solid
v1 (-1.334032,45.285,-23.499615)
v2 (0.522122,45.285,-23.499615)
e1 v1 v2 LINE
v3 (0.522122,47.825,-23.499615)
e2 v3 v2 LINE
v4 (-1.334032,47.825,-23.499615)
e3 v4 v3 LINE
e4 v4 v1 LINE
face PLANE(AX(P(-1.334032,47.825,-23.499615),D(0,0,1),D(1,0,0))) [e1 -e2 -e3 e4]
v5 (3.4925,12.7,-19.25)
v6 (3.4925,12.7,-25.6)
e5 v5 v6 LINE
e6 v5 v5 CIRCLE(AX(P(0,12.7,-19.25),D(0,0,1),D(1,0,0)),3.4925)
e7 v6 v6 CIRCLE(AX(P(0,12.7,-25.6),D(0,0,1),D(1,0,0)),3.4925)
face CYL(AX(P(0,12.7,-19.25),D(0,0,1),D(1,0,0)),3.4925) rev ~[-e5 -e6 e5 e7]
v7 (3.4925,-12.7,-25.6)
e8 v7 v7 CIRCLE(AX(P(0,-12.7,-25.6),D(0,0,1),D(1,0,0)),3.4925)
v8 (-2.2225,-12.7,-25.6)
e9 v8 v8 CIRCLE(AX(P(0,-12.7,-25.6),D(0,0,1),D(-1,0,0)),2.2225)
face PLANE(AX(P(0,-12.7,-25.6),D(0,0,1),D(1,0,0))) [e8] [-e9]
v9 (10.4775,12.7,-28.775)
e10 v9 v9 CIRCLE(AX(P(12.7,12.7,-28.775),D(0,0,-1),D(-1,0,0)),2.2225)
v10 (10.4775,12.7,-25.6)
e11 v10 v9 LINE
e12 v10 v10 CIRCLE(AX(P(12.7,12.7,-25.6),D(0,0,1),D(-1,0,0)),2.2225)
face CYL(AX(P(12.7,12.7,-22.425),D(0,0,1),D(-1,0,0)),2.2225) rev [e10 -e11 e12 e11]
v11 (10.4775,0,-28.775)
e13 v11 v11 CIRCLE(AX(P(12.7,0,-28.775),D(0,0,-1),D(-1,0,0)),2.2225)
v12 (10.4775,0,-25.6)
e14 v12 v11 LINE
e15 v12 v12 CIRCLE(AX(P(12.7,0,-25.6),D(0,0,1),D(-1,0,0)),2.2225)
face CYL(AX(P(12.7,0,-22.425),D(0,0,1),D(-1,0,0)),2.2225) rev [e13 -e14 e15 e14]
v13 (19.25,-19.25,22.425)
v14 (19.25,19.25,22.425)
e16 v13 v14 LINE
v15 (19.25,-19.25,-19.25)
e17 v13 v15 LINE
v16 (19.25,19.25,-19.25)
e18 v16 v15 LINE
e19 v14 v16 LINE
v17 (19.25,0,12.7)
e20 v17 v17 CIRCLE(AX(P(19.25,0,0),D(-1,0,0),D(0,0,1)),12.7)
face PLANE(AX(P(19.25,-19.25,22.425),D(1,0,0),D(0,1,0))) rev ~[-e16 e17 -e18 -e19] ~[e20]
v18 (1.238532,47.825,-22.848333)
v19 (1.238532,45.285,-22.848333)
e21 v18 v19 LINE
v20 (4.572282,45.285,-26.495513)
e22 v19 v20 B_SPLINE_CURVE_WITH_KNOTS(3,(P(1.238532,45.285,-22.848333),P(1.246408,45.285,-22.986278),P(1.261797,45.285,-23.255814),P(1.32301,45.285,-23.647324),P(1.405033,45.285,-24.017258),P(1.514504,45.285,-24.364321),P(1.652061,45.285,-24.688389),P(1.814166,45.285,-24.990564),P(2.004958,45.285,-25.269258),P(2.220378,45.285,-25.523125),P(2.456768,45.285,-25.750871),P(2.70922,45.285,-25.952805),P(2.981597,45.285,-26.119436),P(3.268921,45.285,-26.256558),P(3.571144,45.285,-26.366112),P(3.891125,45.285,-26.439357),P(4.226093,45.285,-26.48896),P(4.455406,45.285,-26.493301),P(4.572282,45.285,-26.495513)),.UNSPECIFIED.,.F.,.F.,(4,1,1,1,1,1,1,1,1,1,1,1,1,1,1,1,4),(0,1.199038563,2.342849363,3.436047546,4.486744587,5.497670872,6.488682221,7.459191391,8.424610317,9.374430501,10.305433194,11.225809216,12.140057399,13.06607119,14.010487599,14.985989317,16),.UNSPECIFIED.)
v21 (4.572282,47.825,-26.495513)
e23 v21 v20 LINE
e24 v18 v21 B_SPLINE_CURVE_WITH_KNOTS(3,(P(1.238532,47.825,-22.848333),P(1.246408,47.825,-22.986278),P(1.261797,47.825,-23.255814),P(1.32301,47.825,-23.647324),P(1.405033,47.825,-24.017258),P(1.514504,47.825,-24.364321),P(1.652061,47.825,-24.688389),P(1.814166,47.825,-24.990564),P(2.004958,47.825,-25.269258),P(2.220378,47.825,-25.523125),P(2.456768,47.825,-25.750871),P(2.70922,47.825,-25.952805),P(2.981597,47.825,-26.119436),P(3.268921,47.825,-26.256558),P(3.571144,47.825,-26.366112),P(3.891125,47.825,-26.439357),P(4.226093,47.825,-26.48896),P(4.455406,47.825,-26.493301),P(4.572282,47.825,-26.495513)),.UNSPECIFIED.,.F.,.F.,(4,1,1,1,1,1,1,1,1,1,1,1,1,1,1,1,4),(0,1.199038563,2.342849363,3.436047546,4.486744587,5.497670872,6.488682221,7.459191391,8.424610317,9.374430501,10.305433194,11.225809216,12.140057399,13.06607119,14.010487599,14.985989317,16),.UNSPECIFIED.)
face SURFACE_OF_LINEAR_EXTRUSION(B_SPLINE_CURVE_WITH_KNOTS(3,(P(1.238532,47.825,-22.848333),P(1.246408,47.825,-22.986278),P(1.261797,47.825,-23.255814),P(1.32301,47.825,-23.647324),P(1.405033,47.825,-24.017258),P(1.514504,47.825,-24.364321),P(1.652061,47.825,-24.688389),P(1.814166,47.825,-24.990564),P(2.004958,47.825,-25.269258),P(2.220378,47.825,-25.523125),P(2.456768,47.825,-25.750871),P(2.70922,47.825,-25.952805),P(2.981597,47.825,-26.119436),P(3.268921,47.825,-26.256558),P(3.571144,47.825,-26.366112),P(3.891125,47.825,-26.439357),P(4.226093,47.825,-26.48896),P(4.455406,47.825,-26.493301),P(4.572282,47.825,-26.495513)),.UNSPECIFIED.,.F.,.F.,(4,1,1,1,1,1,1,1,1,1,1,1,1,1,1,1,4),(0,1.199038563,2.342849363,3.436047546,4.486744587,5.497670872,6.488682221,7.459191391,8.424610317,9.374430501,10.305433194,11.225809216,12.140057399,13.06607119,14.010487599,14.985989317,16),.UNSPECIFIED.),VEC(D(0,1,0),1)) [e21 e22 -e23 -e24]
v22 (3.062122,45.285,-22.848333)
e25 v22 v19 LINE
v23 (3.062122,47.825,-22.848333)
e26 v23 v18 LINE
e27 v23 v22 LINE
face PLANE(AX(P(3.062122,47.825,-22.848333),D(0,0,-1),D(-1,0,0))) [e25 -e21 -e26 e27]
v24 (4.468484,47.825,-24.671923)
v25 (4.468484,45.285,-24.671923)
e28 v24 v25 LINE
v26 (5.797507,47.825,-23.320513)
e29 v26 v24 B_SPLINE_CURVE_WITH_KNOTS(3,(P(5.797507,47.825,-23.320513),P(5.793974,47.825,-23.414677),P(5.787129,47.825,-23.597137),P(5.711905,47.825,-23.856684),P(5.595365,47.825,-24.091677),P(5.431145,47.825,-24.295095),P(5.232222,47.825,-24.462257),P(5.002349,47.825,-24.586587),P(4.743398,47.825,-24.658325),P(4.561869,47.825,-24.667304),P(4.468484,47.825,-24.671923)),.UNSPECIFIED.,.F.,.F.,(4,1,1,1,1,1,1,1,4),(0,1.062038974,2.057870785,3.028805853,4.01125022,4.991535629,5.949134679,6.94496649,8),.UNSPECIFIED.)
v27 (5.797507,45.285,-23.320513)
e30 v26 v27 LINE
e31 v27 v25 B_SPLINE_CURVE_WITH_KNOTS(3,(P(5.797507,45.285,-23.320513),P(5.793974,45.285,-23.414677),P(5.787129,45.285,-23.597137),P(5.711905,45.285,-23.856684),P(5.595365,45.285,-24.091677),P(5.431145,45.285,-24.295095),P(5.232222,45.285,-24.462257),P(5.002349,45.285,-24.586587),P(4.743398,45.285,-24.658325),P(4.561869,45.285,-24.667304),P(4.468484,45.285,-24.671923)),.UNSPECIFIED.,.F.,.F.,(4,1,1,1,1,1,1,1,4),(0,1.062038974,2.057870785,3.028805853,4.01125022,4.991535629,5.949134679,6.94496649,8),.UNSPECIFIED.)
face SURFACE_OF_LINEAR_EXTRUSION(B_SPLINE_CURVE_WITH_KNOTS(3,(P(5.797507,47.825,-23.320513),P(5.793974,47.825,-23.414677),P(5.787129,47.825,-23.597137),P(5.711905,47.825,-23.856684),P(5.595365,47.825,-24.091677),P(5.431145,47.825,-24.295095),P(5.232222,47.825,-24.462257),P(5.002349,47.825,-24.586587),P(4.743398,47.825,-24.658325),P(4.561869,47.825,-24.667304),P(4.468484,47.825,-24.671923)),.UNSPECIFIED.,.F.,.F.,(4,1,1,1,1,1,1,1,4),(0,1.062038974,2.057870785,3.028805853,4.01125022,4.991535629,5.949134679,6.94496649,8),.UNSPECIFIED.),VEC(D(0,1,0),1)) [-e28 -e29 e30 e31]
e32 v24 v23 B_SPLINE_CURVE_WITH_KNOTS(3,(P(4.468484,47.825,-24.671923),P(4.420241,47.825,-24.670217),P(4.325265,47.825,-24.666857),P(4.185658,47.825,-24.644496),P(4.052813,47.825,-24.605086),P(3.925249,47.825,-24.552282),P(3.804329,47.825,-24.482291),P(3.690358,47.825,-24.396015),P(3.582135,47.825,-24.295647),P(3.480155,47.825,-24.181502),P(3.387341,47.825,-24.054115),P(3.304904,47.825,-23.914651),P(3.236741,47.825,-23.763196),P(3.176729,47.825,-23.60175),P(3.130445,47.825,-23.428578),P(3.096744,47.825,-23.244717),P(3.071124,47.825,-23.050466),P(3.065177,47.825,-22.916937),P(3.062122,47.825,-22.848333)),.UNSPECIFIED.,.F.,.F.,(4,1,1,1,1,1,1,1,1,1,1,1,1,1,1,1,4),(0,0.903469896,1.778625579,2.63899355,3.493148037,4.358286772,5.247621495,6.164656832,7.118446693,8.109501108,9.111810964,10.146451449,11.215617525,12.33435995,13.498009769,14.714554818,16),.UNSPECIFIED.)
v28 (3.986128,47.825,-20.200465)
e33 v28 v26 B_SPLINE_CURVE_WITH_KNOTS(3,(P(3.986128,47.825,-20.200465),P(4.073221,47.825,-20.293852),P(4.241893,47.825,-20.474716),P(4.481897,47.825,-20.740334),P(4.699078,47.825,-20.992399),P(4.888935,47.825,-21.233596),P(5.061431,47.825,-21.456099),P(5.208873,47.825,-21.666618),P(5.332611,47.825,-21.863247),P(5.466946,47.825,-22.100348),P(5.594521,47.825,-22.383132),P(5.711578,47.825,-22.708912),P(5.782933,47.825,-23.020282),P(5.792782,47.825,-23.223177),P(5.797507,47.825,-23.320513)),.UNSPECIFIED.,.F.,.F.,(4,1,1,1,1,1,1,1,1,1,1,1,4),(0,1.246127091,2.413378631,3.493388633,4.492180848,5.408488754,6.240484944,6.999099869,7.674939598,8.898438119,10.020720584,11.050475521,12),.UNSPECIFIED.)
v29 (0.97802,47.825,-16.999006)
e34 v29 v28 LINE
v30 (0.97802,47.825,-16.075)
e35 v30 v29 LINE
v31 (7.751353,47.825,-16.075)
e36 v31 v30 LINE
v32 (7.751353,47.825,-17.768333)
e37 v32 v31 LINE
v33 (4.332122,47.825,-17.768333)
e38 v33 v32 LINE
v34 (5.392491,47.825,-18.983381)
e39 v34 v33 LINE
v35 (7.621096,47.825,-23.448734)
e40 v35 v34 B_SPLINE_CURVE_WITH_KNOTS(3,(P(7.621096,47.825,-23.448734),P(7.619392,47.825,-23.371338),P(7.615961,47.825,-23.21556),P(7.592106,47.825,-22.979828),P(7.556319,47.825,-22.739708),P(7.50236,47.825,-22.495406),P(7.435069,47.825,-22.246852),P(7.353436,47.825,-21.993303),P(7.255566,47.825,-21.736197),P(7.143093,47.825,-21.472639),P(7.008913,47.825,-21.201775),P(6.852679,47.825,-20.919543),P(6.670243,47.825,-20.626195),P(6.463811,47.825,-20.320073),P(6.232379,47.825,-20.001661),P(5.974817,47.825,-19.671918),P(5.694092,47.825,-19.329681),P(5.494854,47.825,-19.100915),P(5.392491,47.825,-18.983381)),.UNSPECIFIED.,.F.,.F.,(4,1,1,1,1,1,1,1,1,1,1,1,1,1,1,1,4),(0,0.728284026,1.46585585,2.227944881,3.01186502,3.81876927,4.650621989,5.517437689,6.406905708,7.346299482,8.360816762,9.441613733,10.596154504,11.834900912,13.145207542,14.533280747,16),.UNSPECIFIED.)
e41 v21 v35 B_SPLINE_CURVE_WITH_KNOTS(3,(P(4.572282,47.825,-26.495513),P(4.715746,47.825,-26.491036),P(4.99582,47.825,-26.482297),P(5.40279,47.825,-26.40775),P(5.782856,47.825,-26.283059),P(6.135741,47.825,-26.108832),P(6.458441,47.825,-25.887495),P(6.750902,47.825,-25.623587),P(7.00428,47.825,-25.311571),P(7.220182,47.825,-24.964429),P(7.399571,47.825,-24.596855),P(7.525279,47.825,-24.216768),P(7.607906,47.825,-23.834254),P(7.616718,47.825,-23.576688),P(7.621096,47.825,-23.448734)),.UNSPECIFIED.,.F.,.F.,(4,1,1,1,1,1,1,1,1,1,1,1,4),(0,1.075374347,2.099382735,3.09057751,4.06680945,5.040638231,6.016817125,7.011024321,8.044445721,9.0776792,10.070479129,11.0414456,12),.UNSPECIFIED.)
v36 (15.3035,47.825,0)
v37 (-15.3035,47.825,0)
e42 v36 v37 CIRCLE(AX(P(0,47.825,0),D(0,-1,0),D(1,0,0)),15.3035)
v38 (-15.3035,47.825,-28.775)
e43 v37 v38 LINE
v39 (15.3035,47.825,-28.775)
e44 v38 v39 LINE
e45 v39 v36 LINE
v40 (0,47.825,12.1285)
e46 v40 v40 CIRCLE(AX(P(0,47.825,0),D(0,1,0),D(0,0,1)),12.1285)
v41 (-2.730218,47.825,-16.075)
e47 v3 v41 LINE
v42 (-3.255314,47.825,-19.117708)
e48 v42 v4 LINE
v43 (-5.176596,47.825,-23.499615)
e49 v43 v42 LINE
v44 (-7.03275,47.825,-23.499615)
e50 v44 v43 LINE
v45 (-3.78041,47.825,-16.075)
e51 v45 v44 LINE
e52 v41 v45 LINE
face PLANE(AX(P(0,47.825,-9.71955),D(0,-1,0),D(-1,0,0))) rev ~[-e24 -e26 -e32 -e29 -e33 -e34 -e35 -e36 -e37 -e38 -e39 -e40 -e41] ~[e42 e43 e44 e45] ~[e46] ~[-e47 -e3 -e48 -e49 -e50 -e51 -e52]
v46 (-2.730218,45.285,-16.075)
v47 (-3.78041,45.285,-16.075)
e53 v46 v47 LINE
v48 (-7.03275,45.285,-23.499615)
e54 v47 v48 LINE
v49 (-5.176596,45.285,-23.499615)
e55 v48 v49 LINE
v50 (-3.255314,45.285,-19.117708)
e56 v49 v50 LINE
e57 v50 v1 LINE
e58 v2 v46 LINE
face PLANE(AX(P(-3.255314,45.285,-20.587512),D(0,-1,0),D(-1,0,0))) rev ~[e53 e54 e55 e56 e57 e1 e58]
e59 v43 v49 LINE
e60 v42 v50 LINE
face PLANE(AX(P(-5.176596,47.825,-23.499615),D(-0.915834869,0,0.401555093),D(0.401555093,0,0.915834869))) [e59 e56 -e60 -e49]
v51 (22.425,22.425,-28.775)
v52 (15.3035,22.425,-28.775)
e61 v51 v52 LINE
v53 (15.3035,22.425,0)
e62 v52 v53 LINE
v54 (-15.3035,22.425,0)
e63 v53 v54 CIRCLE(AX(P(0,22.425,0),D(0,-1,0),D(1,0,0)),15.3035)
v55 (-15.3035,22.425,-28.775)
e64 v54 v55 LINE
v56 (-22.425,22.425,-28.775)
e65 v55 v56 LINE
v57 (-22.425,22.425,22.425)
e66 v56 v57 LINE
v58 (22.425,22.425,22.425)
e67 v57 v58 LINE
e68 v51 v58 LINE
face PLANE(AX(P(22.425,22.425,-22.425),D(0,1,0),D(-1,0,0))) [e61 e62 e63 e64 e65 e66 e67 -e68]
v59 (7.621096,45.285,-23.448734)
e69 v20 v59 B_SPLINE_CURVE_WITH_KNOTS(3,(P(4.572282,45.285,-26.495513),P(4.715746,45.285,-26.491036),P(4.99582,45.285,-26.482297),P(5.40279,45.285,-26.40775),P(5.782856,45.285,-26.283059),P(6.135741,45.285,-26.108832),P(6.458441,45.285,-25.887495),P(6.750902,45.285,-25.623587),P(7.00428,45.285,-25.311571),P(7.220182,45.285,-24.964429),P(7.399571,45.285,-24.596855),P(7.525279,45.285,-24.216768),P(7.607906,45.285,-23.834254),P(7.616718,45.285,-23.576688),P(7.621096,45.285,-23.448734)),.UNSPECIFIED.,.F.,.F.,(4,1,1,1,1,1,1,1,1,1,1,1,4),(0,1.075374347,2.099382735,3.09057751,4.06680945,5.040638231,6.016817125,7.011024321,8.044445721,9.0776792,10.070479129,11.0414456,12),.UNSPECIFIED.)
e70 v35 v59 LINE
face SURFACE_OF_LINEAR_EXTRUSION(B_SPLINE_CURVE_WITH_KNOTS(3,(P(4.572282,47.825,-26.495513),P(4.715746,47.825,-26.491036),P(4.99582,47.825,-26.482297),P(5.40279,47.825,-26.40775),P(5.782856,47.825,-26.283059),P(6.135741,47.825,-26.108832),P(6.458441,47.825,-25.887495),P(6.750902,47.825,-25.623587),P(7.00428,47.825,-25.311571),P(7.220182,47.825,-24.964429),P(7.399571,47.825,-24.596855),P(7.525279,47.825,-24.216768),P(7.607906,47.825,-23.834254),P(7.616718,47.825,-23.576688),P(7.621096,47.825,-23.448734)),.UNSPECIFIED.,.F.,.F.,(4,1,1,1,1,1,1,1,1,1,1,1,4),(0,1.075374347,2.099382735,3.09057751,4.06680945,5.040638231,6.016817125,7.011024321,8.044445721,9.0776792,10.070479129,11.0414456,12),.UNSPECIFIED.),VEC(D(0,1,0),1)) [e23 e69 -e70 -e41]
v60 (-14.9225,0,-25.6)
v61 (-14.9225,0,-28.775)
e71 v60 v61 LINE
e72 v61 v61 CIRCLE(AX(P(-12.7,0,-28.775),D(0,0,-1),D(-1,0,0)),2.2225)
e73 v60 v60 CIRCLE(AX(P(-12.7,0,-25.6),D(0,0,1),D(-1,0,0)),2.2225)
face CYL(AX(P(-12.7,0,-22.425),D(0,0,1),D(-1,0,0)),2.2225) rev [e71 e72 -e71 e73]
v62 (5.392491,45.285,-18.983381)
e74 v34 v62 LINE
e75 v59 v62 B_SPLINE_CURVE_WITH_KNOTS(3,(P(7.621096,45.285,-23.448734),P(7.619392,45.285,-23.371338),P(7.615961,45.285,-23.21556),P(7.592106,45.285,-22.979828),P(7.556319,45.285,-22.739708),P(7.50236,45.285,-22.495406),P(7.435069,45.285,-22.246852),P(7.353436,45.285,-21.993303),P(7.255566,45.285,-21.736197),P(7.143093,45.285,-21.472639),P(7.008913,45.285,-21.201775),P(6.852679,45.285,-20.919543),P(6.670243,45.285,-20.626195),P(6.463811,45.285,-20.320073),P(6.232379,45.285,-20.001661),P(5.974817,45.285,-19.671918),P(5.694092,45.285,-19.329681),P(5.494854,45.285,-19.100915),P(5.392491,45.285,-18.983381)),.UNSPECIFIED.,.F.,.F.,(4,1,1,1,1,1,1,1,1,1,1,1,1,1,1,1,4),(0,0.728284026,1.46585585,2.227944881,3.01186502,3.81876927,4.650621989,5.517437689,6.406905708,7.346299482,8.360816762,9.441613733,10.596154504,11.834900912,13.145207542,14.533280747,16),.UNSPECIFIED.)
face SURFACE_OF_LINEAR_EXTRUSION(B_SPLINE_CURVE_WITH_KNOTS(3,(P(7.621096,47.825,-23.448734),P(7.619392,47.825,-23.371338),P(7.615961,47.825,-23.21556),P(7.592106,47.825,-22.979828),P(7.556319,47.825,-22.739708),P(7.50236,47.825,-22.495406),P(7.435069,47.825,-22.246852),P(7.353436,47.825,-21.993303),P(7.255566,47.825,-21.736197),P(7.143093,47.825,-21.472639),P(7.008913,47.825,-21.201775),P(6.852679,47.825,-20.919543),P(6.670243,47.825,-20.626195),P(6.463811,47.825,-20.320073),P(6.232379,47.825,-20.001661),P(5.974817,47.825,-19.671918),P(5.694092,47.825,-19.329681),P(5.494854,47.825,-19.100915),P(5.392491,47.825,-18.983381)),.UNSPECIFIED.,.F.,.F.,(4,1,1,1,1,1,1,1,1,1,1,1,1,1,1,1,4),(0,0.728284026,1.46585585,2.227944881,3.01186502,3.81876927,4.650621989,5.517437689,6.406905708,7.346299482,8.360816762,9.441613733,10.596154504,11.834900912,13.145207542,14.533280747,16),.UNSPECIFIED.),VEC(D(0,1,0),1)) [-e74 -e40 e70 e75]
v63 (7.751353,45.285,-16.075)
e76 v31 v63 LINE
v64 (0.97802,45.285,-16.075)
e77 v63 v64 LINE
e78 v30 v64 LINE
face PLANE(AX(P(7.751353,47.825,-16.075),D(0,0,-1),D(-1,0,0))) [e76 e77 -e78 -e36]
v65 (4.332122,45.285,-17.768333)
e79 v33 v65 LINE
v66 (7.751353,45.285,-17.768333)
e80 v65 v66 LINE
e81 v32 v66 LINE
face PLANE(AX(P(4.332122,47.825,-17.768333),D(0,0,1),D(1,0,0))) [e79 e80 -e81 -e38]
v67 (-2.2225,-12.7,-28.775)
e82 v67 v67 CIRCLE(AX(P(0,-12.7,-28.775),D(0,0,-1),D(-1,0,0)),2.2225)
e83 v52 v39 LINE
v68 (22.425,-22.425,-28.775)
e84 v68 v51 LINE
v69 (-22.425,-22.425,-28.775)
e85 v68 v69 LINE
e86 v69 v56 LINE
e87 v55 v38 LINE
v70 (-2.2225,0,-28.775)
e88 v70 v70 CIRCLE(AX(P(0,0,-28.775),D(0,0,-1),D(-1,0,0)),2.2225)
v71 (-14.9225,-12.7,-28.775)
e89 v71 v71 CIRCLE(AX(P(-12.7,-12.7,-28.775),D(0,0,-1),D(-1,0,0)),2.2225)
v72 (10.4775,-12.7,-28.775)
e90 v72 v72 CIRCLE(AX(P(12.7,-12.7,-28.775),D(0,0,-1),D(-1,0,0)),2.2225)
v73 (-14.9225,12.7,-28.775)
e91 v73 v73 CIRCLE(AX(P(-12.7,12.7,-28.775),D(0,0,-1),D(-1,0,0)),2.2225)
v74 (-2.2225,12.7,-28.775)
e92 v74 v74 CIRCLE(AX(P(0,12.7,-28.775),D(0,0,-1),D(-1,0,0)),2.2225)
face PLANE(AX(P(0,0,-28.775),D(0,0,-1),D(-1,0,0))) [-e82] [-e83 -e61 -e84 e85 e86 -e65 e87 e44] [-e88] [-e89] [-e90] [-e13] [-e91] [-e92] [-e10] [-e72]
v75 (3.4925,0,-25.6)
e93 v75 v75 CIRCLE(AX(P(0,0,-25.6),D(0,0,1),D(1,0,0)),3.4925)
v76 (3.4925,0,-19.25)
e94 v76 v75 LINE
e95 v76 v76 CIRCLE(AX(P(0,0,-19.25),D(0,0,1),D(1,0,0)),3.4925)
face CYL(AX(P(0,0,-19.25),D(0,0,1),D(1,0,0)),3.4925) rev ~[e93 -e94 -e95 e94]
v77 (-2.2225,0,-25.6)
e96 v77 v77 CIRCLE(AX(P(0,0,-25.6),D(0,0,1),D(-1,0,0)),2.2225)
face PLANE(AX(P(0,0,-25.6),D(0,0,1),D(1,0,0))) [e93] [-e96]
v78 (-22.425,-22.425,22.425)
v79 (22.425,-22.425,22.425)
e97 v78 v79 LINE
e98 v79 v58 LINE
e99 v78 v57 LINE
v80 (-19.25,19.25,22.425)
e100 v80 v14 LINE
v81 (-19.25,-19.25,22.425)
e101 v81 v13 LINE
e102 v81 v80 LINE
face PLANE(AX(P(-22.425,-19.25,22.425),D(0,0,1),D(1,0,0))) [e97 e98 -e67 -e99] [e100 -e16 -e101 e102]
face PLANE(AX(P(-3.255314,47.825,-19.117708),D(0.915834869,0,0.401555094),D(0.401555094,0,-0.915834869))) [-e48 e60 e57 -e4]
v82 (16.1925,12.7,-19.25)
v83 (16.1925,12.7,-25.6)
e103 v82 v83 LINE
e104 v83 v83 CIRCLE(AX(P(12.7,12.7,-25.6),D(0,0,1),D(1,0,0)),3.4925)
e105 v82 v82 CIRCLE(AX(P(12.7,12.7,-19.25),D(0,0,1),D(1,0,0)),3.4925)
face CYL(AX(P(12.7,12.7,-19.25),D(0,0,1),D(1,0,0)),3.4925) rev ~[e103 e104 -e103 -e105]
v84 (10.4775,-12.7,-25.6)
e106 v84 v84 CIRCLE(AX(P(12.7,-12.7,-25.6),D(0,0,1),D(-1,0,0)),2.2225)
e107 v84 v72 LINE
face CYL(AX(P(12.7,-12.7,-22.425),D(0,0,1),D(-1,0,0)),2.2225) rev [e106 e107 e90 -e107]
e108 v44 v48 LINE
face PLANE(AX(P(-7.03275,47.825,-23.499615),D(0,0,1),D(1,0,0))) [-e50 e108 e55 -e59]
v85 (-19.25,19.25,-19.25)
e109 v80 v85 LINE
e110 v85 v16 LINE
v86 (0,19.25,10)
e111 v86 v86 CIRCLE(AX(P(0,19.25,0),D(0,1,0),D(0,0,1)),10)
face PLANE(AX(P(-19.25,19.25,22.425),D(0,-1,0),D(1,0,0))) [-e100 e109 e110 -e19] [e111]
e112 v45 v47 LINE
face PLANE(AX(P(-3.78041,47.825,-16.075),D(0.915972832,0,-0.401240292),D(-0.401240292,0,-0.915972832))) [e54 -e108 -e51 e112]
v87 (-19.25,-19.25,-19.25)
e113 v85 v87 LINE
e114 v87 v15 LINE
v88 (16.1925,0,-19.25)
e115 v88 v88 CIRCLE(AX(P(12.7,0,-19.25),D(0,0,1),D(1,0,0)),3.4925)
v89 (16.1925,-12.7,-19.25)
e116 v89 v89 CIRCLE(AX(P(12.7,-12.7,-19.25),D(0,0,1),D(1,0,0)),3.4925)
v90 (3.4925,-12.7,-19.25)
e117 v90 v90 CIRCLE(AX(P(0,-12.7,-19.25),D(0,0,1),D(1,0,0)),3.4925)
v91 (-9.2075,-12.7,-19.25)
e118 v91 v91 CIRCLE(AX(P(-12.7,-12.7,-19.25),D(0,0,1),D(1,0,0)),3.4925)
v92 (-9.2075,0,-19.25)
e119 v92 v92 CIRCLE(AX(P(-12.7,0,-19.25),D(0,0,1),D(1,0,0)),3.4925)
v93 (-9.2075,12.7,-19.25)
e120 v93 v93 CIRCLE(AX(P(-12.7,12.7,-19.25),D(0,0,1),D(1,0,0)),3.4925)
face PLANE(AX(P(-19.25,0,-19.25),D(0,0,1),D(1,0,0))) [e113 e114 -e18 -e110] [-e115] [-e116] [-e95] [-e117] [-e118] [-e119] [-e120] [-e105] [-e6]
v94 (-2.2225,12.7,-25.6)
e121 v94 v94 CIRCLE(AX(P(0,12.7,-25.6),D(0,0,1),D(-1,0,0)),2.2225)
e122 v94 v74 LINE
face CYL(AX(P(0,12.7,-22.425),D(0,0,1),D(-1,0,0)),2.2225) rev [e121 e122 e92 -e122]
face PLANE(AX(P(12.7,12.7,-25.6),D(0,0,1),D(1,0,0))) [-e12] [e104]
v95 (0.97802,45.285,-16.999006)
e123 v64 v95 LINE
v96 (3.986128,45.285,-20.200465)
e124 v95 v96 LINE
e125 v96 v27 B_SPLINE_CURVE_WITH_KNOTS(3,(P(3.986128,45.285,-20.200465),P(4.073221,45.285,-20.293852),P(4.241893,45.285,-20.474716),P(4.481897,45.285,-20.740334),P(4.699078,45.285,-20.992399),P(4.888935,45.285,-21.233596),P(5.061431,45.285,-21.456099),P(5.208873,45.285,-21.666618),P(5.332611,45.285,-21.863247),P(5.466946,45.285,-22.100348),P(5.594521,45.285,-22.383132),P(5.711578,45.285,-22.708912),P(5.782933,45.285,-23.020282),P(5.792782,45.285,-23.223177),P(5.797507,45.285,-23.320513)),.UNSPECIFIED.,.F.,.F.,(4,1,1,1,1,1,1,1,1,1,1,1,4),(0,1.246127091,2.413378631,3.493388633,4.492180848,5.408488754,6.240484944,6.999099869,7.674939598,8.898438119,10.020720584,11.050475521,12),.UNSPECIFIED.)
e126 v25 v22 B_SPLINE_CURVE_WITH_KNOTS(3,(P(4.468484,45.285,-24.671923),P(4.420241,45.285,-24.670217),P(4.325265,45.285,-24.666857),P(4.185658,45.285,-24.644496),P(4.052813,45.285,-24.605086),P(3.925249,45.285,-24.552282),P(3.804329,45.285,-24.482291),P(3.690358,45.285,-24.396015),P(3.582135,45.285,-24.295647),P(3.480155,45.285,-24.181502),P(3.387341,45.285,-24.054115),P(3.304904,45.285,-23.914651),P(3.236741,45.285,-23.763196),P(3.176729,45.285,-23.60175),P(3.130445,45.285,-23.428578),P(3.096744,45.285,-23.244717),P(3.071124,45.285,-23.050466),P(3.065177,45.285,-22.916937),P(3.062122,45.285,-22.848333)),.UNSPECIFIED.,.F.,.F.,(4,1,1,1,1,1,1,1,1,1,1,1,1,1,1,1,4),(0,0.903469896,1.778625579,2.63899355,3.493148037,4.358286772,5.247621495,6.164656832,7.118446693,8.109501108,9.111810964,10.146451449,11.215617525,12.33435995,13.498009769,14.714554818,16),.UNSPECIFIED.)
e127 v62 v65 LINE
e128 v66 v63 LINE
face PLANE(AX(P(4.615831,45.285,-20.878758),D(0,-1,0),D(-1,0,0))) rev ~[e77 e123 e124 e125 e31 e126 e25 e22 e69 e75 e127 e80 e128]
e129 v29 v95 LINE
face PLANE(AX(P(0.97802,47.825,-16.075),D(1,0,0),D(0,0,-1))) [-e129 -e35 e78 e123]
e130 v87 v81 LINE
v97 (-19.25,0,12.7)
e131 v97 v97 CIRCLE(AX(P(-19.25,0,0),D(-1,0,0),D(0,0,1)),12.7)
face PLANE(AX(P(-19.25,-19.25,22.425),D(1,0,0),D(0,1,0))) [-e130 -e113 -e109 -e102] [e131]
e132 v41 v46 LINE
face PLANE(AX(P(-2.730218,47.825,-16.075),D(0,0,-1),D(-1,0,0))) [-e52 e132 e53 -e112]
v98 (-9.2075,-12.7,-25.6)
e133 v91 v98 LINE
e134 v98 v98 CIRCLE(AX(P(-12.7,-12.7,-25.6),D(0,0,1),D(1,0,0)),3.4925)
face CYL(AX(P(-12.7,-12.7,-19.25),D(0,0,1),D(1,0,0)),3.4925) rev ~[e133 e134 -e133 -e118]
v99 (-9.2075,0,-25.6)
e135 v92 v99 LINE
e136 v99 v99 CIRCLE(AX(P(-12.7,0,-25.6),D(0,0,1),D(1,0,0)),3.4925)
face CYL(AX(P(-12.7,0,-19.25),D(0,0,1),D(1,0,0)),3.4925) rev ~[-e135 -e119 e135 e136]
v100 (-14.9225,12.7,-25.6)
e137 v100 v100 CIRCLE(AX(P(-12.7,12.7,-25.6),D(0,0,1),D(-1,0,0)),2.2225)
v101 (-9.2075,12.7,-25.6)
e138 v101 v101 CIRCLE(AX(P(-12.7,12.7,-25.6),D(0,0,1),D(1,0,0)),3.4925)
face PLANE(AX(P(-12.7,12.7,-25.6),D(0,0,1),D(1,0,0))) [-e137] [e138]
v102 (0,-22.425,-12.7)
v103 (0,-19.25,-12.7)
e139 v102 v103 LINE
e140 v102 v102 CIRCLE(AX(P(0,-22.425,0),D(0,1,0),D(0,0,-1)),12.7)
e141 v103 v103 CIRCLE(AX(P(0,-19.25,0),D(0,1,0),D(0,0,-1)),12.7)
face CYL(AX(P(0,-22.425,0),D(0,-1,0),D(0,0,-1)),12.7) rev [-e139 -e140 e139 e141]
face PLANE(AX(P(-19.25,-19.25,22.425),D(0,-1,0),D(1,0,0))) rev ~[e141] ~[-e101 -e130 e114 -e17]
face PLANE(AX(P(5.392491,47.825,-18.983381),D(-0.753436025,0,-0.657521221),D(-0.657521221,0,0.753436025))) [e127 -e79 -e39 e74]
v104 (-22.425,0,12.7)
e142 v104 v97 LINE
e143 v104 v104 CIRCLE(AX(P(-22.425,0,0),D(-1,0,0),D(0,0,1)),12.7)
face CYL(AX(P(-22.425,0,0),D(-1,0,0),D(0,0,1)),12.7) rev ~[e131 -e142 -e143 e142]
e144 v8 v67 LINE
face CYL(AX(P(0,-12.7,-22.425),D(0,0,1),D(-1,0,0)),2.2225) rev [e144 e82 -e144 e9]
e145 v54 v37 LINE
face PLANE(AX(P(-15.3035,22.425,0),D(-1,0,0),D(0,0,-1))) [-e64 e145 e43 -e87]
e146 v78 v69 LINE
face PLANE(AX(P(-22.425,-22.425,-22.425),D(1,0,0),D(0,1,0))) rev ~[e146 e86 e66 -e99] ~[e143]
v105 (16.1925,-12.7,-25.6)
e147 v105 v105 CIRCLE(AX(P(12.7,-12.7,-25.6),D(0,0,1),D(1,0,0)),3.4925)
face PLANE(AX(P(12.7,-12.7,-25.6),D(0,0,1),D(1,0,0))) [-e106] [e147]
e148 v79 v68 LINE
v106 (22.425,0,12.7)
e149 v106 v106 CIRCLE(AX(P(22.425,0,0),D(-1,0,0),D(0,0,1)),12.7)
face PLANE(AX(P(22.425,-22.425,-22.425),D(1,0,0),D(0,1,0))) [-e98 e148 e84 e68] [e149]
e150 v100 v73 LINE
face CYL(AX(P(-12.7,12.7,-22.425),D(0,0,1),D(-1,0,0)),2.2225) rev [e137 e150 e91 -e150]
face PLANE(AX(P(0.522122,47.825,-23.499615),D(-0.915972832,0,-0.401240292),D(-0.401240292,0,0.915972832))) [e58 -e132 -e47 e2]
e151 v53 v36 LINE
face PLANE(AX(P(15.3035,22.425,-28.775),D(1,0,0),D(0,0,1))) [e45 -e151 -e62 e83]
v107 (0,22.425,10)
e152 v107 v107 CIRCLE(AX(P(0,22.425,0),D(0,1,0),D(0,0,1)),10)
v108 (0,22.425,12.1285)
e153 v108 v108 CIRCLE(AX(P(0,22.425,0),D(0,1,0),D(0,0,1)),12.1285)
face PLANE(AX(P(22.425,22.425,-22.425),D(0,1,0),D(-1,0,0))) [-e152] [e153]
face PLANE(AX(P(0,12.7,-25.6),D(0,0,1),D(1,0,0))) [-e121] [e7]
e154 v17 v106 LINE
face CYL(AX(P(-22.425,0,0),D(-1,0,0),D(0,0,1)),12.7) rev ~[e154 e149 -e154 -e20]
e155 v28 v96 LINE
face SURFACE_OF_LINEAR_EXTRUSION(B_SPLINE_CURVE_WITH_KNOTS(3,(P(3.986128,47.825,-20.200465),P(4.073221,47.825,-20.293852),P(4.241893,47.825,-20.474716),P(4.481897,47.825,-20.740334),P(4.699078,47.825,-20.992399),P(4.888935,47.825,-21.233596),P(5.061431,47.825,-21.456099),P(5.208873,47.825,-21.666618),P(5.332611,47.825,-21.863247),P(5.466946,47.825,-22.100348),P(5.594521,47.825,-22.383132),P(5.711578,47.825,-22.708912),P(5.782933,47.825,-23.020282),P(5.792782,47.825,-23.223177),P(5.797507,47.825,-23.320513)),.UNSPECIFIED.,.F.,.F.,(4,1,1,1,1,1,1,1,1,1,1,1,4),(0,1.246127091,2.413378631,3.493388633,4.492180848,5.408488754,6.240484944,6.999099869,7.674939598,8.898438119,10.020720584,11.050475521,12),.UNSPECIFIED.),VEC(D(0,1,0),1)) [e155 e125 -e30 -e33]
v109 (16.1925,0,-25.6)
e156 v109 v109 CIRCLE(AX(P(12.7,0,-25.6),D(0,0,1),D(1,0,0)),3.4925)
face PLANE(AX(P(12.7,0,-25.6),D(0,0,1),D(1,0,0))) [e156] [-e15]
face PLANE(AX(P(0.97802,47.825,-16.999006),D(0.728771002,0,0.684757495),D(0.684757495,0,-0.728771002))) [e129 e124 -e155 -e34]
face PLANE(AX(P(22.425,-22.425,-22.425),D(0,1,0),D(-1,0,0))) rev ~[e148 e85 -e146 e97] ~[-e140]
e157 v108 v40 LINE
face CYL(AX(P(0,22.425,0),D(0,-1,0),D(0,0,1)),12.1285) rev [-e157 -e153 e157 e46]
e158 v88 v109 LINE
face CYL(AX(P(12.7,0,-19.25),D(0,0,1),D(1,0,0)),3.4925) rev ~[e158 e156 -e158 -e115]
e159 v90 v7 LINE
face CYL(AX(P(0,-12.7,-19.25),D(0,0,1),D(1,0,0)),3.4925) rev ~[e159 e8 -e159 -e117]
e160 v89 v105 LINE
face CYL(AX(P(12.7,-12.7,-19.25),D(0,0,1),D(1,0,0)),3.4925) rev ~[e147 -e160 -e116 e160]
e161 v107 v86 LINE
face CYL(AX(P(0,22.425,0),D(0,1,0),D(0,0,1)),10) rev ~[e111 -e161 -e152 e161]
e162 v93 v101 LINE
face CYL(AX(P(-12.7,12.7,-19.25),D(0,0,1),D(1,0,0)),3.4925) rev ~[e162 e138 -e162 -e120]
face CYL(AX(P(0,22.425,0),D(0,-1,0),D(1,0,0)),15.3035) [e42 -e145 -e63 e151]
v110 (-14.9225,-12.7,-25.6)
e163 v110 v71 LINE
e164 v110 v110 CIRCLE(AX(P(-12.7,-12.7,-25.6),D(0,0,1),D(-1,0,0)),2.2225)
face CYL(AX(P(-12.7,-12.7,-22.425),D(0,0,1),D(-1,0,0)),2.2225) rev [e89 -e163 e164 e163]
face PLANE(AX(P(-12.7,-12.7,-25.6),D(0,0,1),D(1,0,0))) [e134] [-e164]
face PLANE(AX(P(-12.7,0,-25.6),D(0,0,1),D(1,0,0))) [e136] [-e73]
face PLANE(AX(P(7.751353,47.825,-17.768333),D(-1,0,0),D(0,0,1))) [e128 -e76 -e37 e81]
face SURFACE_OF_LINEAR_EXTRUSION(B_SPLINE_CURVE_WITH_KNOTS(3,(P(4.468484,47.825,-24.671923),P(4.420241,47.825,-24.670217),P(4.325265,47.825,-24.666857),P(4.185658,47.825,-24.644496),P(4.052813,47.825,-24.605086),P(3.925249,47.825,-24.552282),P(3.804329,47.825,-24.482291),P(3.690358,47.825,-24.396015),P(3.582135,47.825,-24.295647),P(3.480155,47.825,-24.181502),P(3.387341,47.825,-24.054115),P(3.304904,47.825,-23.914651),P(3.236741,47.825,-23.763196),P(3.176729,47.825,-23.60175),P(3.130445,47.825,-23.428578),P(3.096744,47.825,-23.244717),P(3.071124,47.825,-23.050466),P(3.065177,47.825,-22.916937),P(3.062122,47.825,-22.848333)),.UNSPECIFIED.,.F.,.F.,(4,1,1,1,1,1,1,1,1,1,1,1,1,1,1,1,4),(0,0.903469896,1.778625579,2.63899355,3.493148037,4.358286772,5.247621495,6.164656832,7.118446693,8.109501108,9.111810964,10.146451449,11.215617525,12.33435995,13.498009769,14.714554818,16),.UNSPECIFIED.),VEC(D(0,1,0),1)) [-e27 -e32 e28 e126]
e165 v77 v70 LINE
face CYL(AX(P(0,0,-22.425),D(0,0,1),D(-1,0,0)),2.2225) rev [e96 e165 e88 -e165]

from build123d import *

# Parameters (mm, degrees)
SKETCH1_W           = 44.85
SKETCH1_H           = 44.85
SKETCH1_W_2         = 38.5
SKETCH1_H_2         = 38.5
BOSS_EXTRUDE1_DEPTH = 19.25
SKETCH2_W           = 44.85
SKETCH2_H           = 44.85
BOSS_EXTRUDE2_DEPTH = 3.175
SKETCH3_W           = 44.85
SKETCH3_H           = 44.85
BOSS_EXTRUDE3_DEPTH = 3.175
SKETCH5_R           = 12.7
CUT_EXTRUDE1_DEPTH  = 3.175
CUT_EXTRUDE2_START  = 22.425
SKETCH6_R           = 10
CUT_EXTRUDE2_DEPTH  = 41.675
SKETCH7_R           = 12.7
CUT_EXTRUDE3_DEPTH  = 55.929807482
SKETCH8_W           = 44.85
SKETCH8_H           = 44.85
SKETCH8_R           = 2.2225
BOSS_EXTRUDE4_DEPTH = 6.35
SKETCH9_R           = 3.4925
CUT_EXTRUDE4_DEPTH  = 6.35
CUT_EXTRUDE5_REACH  = 62.226
SKETCH10_W          = 38.5
SKETCH10_H          = 38.5
SKETCH11_R          = 12.1285
BOSS_EXTRUDE5_DEPTH = 25.4
CUT_EXTRUDE6_START  = 47.825
CUT_EXTRUDE6_DEPTH  = 2.54


with BuildPart() as part:
    # Sketch1 → Boss-Extrude1 (new, symmetric)
    with BuildSketch(Plane(origin=(0, 0, 0), x_dir=(1, 0, 0), z_dir=(0, 1, 0))):
        Rectangle(SKETCH1_W, SKETCH1_H)
        Rectangle(SKETCH1_W_2, SKETCH1_H_2, mode=Mode.SUBTRACT)
    extrude(amount=BOSS_EXTRUDE1_DEPTH, both=True)

    # Sketch2 → Boss-Extrude2 (add)
    with BuildSketch(Plane(origin=(0, 19.25, 0), x_dir=(1, 0, 0), z_dir=(0, 1, 0))):
        Rectangle(SKETCH2_W, SKETCH2_H)
    extrude(amount=BOSS_EXTRUDE2_DEPTH)

    # Sketch3 → Boss-Extrude3 (add)
    with BuildSketch(Plane.XZ.offset(19.25)):
        Rectangle(SKETCH3_W, SKETCH3_H)
    extrude(amount=BOSS_EXTRUDE3_DEPTH)

    # Sketch5 → Cut-Extrude1 (cut)
    with BuildSketch(Plane(origin=(0, -22.425, -22.425), x_dir=(1, 0, 0), z_dir=(0, 1, 0))):
        with Locations(Location((0, -22.425, 0), (0, 0, 90))):
            Circle(SKETCH5_R)
    extrude(amount=CUT_EXTRUDE1_DEPTH, mode=Mode.SUBTRACT)

    # Sketch6 → Cut-Extrude2 (cut)
    with BuildSketch(Plane(origin=(0, 0, 0), x_dir=(1, 0, 0), z_dir=(0, 1, 0)).offset(CUT_EXTRUDE2_START)):
        with Locations(Location((0, 0, 0), (0, 0, 270))):
            Circle(SKETCH6_R)
    extrude(amount=-CUT_EXTRUDE2_DEPTH, mode=Mode.SUBTRACT)

    # Sketch7 → Cut-Extrude3 (cut, through all)
    with BuildSketch(Plane.ZY.offset(22.425)):
        Circle(SKETCH7_R)
    extrude(amount=-CUT_EXTRUDE3_DEPTH, mode=Mode.SUBTRACT)

    # Sketch8 → Boss-Extrude4 (add)
    with BuildSketch(Plane(origin=(0, 0, -22.425), x_dir=(-1, 0, 0), z_dir=(0, 0, -1))):
        Rectangle(SKETCH8_W, SKETCH8_H)
        with Locations((-12.7, 12.7)):
            Circle(SKETCH8_R, mode=Mode.SUBTRACT)
        with Locations((0, 12.7)):
            Circle(SKETCH8_R, mode=Mode.SUBTRACT)
        with Locations((12.7, 12.7)):
            Circle(SKETCH8_R, mode=Mode.SUBTRACT)
        Circle(SKETCH8_R, mode=Mode.SUBTRACT)
        with Locations((12.7, 0)):
            Circle(SKETCH8_R, mode=Mode.SUBTRACT)
        with Locations((0, -12.7)):
            Circle(SKETCH8_R, mode=Mode.SUBTRACT)
        with Locations((12.7, -12.7)):
            Circle(SKETCH8_R, mode=Mode.SUBTRACT)
        with Locations((-12.7, 0)):
            Circle(SKETCH8_R, mode=Mode.SUBTRACT)
        with Locations((-12.7, -12.7)):
            Circle(SKETCH8_R, mode=Mode.SUBTRACT)
    extrude(amount=BOSS_EXTRUDE4_DEPTH)

    # Sketch9 → Cut-Extrude4 (cut)
    with BuildSketch(Plane.XY.offset(-19.25)):
        with Locations((12.7, 12.7)):
            Circle(SKETCH9_R)
        with Locations((0, 12.7)):
            Circle(SKETCH9_R)
        with Locations((-12.7, 12.7)):
            Circle(SKETCH9_R)
        Circle(SKETCH9_R)
        with Locations((-12.7, 0)):
            Circle(SKETCH9_R)
        with Locations((0, -12.7)):
            Circle(SKETCH9_R)
        with Locations((-12.7, -12.7)):
            Circle(SKETCH9_R)
        with Locations((12.7, 0)):
            Circle(SKETCH9_R)
        with Locations((12.7, -12.7)):
            Circle(SKETCH9_R)
    extrude(amount=-CUT_EXTRUDE4_DEPTH, mode=Mode.SUBTRACT)

    # Sketch10 → Cut-Extrude5 (cut, up to next)
    with BuildSketch(Plane.XY.offset(22.425), mode=Mode.PRIVATE) as cut_extrude5_sk1:
        Rectangle(SKETCH10_W, SKETCH10_H)
    cut_extrude5_tool1 = extrude(cut_extrude5_sk1.sketch, amount=-CUT_EXTRUDE5_REACH, mode=Mode.PRIVATE) & part.part
    add(cut_extrude5_tool1.solids().sort_by_distance((0, 0, 22.425))[0], mode=Mode.SUBTRACT)

    # Sketch11 → Boss-Extrude5 (add)
    with BuildSketch(Plane(origin=(0, 22.425, 0), x_dir=(1, 0, 0), z_dir=(0, 1, 0))):
        with BuildLine():
            Line((-15.3035, 0), (-15.3035, 28.775))
            Line((-15.3035, 28.775), (15.3035, 28.775))
            Line((15.3035, 28.775), (15.3035, 0))
            ThreePointArc((15.3035, 0), (0, -15.3035), (-15.3035, 0))
        make_face()
        with Locations(Location((0, 0, 0), (0, 0, 270))):
            Circle(SKETCH11_R, mode=Mode.SUBTRACT)
    extrude(amount=BOSS_EXTRUDE5_DEPTH)

    # Sketch12 → Cut-Extrude6 (cut)
    with BuildSketch(Plane(origin=(0, 0, 0), x_dir=(1, 0, 0), z_dir=(0, 1, 0)).offset(CUT_EXTRUDE6_START)):
        Polygon((-7.032749725, 23.499615385), (-5.176595879, 23.499615385), (-3.255313828, 19.117708333), (-1.334031776, 23.499615385), (0.52212207, 23.499615385), (-2.730217674, 16.075), (-3.780409982, 16.075), align=None)
        with BuildLine():
            Line((3.06212207, 22.848333333), (1.238532326, 22.848333333))
            add(Edge.make_bspline(
                [(1.238532326, 22.848333333), (1.246408131, 22.98627825), (1.26179698, 23.255814335), (1.323009931, 23.647324128), (1.405033186, 24.017257831), (1.514504108, 24.364321375), (1.652061484, 24.688388647), (1.814165609, 24.990564412), (2.004957875, 25.269257707), (2.220377594, 25.523124515), (2.456767534, 25.750870772), (2.709220005, 25.95280491), (2.98159661, 26.119435879), (3.268920804, 26.25655774), (3.571143663, 26.366111735), (3.891124689, 26.439357446), (4.226093313, 26.488960159), (4.455406461, 26.493300596), (4.572282326, 26.495512821)],
                knots=[0, 0, 0, 0, 1.199038563, 2.342849363, 3.436047546, 4.486744587, 5.497670872, 6.488682221, 7.459191391, 8.424610317, 9.374430501, 10.305433194, 11.225809216, 12.140057399, 13.06607119, 14.010487599, 14.985989317, 16, 16, 16, 16], degree=3))
            add(Edge.make_bspline(
                [(4.572282326, 26.495512821), (4.715745792, 26.491036382), (4.995820098, 26.482297326), (5.402790279, 26.407750272), (5.782855932, 26.283058805), (6.135740783, 26.108831941), (6.458440664, 25.887494974), (6.75090206, 25.623586865), (7.004280474, 25.311570683), (7.220182398, 24.964428914), (7.399571093, 24.596854636), (7.525279218, 24.216767589), (7.607905816, 23.834253744), (7.616718454, 23.576688282), (7.621096429, 23.448733974)],
                knots=[0, 0, 0, 0, 1.075374347, 2.099382735, 3.09057751, 4.06680945, 5.040638231, 6.016817125, 7.011024321, 8.044445721, 9.0776792, 10.070479129, 11.0414456, 12, 12, 12, 12], degree=3))
            add(Edge.make_bspline(
                [(7.621096429, 23.448733974), (7.619391877, 23.371338166), (7.615961034, 23.215559521), (7.592105933, 22.979828197), (7.556318567, 22.739708284), (7.50235994, 22.495405661), (7.435069108, 22.246851846), (7.353435604, 21.993303005), (7.255565857, 21.736196664), (7.143093114, 21.472639138), (7.008912847, 21.201774756), (6.852678577, 20.919543158), (6.670243493, 20.626194704), (6.463811181, 20.320073055), (6.232379047, 20.00166101), (5.974817317, 19.671917726), (5.694092498, 19.329681294), (5.494854196, 19.100915445), (5.392490659, 18.98338141)],
                knots=[0, 0, 0, 0, 0.728284026, 1.46585585, 2.227944881, 3.01186502, 3.81876927, 4.650621989, 5.517437689, 6.406905708, 7.346299482, 8.360816762, 9.441613733, 10.596154504, 11.834900912, 13.145207542, 14.533280747, 16, 16, 16, 16], degree=3))
            Line((5.392490659, 18.98338141), (4.33212207, 17.768333333))
            Line((4.33212207, 17.768333333), (7.751352839, 17.768333333))
            Line((7.751352839, 17.768333333), (7.751352839, 16.075))
            Line((7.751352839, 16.075), (0.978019506, 16.075))
            Line((0.978019506, 16.075), (0.978019506, 16.99900641))
            Line((0.978019506, 16.99900641), (3.98612848, 20.200464744))
            add(Edge.make_bspline(
                [(3.98612848, 20.200464744), (4.073220965, 20.293852277), (4.241893281, 20.474716236), (4.481896603, 20.7403342), (4.69907841, 20.992399308), (4.888935258, 21.233595544), (5.061430592, 21.456099485), (5.208872858, 21.666617676), (5.332611037, 21.863246958), (5.46694638, 22.10034753), (5.594520797, 22.383132155), (5.711578046, 22.708911637), (5.782932539, 23.020281793), (5.792781716, 23.22317728), (5.797506685, 23.320512821)],
                knots=[0, 0, 0, 0, 1.246127091, 2.413378631, 3.493388633, 4.492180848, 5.408488754, 6.240484944, 6.999099869, 7.674939598, 8.898438119, 10.020720584, 11.050475521, 12, 12, 12, 12], degree=3))
            add(Edge.make_bspline(
                [(5.797506685, 23.320512821), (5.79397394, 23.414677447), (5.787128679, 23.597136506), (5.711904814, 23.856683548), (5.595365392, 24.091676899), (5.431144887, 24.295094693), (5.232222423, 24.462256582), (5.002348831, 24.5865869), (4.743398255, 24.658324923), (4.561868968, 24.667303961), (4.468484249, 24.671923077)],
                knots=[0, 0, 0, 0, 1.062038974, 2.057870785, 3.028805853, 4.01125022, 4.991535629, 5.949134679, 6.94496649, 8, 8, 8, 8], degree=3))
            add(Edge.make_bspline(
                [(4.468484249, 24.671923077), (4.420240514, 24.67021672), (4.325264974, 24.666857482), (4.185658353, 24.644495946), (4.052812623, 24.605086073), (3.925249138, 24.552282391), (3.804329288, 24.48229073), (3.690358071, 24.396014857), (3.582134658, 24.295647238), (3.480155402, 24.181501708), (3.387340967, 24.054115264), (3.304903526, 23.91465132), (3.236741485, 23.763196445), (3.176729147, 23.601750075), (3.13044476, 23.428578144), (3.096743985, 23.244717066), (3.071123536, 23.050465961), (3.065177143, 22.916936592), (3.06212207, 22.848333333)],
                knots=[0, 0, 0, 0, 0.903469896, 1.778625579, 2.63899355, 3.493148037, 4.358286772, 5.247621495, 6.164656832, 7.118446693, 8.109501108, 9.111810964, 10.146451449, 11.215617525, 12.33435995, 13.498009769, 14.714554818, 16, 16, 16, 16], degree=3))
        make_face()
    extrude(amount=-CUT_EXTRUDE6_DEPTH, mode=Mode.SUBTRACT)


solid = part.part
